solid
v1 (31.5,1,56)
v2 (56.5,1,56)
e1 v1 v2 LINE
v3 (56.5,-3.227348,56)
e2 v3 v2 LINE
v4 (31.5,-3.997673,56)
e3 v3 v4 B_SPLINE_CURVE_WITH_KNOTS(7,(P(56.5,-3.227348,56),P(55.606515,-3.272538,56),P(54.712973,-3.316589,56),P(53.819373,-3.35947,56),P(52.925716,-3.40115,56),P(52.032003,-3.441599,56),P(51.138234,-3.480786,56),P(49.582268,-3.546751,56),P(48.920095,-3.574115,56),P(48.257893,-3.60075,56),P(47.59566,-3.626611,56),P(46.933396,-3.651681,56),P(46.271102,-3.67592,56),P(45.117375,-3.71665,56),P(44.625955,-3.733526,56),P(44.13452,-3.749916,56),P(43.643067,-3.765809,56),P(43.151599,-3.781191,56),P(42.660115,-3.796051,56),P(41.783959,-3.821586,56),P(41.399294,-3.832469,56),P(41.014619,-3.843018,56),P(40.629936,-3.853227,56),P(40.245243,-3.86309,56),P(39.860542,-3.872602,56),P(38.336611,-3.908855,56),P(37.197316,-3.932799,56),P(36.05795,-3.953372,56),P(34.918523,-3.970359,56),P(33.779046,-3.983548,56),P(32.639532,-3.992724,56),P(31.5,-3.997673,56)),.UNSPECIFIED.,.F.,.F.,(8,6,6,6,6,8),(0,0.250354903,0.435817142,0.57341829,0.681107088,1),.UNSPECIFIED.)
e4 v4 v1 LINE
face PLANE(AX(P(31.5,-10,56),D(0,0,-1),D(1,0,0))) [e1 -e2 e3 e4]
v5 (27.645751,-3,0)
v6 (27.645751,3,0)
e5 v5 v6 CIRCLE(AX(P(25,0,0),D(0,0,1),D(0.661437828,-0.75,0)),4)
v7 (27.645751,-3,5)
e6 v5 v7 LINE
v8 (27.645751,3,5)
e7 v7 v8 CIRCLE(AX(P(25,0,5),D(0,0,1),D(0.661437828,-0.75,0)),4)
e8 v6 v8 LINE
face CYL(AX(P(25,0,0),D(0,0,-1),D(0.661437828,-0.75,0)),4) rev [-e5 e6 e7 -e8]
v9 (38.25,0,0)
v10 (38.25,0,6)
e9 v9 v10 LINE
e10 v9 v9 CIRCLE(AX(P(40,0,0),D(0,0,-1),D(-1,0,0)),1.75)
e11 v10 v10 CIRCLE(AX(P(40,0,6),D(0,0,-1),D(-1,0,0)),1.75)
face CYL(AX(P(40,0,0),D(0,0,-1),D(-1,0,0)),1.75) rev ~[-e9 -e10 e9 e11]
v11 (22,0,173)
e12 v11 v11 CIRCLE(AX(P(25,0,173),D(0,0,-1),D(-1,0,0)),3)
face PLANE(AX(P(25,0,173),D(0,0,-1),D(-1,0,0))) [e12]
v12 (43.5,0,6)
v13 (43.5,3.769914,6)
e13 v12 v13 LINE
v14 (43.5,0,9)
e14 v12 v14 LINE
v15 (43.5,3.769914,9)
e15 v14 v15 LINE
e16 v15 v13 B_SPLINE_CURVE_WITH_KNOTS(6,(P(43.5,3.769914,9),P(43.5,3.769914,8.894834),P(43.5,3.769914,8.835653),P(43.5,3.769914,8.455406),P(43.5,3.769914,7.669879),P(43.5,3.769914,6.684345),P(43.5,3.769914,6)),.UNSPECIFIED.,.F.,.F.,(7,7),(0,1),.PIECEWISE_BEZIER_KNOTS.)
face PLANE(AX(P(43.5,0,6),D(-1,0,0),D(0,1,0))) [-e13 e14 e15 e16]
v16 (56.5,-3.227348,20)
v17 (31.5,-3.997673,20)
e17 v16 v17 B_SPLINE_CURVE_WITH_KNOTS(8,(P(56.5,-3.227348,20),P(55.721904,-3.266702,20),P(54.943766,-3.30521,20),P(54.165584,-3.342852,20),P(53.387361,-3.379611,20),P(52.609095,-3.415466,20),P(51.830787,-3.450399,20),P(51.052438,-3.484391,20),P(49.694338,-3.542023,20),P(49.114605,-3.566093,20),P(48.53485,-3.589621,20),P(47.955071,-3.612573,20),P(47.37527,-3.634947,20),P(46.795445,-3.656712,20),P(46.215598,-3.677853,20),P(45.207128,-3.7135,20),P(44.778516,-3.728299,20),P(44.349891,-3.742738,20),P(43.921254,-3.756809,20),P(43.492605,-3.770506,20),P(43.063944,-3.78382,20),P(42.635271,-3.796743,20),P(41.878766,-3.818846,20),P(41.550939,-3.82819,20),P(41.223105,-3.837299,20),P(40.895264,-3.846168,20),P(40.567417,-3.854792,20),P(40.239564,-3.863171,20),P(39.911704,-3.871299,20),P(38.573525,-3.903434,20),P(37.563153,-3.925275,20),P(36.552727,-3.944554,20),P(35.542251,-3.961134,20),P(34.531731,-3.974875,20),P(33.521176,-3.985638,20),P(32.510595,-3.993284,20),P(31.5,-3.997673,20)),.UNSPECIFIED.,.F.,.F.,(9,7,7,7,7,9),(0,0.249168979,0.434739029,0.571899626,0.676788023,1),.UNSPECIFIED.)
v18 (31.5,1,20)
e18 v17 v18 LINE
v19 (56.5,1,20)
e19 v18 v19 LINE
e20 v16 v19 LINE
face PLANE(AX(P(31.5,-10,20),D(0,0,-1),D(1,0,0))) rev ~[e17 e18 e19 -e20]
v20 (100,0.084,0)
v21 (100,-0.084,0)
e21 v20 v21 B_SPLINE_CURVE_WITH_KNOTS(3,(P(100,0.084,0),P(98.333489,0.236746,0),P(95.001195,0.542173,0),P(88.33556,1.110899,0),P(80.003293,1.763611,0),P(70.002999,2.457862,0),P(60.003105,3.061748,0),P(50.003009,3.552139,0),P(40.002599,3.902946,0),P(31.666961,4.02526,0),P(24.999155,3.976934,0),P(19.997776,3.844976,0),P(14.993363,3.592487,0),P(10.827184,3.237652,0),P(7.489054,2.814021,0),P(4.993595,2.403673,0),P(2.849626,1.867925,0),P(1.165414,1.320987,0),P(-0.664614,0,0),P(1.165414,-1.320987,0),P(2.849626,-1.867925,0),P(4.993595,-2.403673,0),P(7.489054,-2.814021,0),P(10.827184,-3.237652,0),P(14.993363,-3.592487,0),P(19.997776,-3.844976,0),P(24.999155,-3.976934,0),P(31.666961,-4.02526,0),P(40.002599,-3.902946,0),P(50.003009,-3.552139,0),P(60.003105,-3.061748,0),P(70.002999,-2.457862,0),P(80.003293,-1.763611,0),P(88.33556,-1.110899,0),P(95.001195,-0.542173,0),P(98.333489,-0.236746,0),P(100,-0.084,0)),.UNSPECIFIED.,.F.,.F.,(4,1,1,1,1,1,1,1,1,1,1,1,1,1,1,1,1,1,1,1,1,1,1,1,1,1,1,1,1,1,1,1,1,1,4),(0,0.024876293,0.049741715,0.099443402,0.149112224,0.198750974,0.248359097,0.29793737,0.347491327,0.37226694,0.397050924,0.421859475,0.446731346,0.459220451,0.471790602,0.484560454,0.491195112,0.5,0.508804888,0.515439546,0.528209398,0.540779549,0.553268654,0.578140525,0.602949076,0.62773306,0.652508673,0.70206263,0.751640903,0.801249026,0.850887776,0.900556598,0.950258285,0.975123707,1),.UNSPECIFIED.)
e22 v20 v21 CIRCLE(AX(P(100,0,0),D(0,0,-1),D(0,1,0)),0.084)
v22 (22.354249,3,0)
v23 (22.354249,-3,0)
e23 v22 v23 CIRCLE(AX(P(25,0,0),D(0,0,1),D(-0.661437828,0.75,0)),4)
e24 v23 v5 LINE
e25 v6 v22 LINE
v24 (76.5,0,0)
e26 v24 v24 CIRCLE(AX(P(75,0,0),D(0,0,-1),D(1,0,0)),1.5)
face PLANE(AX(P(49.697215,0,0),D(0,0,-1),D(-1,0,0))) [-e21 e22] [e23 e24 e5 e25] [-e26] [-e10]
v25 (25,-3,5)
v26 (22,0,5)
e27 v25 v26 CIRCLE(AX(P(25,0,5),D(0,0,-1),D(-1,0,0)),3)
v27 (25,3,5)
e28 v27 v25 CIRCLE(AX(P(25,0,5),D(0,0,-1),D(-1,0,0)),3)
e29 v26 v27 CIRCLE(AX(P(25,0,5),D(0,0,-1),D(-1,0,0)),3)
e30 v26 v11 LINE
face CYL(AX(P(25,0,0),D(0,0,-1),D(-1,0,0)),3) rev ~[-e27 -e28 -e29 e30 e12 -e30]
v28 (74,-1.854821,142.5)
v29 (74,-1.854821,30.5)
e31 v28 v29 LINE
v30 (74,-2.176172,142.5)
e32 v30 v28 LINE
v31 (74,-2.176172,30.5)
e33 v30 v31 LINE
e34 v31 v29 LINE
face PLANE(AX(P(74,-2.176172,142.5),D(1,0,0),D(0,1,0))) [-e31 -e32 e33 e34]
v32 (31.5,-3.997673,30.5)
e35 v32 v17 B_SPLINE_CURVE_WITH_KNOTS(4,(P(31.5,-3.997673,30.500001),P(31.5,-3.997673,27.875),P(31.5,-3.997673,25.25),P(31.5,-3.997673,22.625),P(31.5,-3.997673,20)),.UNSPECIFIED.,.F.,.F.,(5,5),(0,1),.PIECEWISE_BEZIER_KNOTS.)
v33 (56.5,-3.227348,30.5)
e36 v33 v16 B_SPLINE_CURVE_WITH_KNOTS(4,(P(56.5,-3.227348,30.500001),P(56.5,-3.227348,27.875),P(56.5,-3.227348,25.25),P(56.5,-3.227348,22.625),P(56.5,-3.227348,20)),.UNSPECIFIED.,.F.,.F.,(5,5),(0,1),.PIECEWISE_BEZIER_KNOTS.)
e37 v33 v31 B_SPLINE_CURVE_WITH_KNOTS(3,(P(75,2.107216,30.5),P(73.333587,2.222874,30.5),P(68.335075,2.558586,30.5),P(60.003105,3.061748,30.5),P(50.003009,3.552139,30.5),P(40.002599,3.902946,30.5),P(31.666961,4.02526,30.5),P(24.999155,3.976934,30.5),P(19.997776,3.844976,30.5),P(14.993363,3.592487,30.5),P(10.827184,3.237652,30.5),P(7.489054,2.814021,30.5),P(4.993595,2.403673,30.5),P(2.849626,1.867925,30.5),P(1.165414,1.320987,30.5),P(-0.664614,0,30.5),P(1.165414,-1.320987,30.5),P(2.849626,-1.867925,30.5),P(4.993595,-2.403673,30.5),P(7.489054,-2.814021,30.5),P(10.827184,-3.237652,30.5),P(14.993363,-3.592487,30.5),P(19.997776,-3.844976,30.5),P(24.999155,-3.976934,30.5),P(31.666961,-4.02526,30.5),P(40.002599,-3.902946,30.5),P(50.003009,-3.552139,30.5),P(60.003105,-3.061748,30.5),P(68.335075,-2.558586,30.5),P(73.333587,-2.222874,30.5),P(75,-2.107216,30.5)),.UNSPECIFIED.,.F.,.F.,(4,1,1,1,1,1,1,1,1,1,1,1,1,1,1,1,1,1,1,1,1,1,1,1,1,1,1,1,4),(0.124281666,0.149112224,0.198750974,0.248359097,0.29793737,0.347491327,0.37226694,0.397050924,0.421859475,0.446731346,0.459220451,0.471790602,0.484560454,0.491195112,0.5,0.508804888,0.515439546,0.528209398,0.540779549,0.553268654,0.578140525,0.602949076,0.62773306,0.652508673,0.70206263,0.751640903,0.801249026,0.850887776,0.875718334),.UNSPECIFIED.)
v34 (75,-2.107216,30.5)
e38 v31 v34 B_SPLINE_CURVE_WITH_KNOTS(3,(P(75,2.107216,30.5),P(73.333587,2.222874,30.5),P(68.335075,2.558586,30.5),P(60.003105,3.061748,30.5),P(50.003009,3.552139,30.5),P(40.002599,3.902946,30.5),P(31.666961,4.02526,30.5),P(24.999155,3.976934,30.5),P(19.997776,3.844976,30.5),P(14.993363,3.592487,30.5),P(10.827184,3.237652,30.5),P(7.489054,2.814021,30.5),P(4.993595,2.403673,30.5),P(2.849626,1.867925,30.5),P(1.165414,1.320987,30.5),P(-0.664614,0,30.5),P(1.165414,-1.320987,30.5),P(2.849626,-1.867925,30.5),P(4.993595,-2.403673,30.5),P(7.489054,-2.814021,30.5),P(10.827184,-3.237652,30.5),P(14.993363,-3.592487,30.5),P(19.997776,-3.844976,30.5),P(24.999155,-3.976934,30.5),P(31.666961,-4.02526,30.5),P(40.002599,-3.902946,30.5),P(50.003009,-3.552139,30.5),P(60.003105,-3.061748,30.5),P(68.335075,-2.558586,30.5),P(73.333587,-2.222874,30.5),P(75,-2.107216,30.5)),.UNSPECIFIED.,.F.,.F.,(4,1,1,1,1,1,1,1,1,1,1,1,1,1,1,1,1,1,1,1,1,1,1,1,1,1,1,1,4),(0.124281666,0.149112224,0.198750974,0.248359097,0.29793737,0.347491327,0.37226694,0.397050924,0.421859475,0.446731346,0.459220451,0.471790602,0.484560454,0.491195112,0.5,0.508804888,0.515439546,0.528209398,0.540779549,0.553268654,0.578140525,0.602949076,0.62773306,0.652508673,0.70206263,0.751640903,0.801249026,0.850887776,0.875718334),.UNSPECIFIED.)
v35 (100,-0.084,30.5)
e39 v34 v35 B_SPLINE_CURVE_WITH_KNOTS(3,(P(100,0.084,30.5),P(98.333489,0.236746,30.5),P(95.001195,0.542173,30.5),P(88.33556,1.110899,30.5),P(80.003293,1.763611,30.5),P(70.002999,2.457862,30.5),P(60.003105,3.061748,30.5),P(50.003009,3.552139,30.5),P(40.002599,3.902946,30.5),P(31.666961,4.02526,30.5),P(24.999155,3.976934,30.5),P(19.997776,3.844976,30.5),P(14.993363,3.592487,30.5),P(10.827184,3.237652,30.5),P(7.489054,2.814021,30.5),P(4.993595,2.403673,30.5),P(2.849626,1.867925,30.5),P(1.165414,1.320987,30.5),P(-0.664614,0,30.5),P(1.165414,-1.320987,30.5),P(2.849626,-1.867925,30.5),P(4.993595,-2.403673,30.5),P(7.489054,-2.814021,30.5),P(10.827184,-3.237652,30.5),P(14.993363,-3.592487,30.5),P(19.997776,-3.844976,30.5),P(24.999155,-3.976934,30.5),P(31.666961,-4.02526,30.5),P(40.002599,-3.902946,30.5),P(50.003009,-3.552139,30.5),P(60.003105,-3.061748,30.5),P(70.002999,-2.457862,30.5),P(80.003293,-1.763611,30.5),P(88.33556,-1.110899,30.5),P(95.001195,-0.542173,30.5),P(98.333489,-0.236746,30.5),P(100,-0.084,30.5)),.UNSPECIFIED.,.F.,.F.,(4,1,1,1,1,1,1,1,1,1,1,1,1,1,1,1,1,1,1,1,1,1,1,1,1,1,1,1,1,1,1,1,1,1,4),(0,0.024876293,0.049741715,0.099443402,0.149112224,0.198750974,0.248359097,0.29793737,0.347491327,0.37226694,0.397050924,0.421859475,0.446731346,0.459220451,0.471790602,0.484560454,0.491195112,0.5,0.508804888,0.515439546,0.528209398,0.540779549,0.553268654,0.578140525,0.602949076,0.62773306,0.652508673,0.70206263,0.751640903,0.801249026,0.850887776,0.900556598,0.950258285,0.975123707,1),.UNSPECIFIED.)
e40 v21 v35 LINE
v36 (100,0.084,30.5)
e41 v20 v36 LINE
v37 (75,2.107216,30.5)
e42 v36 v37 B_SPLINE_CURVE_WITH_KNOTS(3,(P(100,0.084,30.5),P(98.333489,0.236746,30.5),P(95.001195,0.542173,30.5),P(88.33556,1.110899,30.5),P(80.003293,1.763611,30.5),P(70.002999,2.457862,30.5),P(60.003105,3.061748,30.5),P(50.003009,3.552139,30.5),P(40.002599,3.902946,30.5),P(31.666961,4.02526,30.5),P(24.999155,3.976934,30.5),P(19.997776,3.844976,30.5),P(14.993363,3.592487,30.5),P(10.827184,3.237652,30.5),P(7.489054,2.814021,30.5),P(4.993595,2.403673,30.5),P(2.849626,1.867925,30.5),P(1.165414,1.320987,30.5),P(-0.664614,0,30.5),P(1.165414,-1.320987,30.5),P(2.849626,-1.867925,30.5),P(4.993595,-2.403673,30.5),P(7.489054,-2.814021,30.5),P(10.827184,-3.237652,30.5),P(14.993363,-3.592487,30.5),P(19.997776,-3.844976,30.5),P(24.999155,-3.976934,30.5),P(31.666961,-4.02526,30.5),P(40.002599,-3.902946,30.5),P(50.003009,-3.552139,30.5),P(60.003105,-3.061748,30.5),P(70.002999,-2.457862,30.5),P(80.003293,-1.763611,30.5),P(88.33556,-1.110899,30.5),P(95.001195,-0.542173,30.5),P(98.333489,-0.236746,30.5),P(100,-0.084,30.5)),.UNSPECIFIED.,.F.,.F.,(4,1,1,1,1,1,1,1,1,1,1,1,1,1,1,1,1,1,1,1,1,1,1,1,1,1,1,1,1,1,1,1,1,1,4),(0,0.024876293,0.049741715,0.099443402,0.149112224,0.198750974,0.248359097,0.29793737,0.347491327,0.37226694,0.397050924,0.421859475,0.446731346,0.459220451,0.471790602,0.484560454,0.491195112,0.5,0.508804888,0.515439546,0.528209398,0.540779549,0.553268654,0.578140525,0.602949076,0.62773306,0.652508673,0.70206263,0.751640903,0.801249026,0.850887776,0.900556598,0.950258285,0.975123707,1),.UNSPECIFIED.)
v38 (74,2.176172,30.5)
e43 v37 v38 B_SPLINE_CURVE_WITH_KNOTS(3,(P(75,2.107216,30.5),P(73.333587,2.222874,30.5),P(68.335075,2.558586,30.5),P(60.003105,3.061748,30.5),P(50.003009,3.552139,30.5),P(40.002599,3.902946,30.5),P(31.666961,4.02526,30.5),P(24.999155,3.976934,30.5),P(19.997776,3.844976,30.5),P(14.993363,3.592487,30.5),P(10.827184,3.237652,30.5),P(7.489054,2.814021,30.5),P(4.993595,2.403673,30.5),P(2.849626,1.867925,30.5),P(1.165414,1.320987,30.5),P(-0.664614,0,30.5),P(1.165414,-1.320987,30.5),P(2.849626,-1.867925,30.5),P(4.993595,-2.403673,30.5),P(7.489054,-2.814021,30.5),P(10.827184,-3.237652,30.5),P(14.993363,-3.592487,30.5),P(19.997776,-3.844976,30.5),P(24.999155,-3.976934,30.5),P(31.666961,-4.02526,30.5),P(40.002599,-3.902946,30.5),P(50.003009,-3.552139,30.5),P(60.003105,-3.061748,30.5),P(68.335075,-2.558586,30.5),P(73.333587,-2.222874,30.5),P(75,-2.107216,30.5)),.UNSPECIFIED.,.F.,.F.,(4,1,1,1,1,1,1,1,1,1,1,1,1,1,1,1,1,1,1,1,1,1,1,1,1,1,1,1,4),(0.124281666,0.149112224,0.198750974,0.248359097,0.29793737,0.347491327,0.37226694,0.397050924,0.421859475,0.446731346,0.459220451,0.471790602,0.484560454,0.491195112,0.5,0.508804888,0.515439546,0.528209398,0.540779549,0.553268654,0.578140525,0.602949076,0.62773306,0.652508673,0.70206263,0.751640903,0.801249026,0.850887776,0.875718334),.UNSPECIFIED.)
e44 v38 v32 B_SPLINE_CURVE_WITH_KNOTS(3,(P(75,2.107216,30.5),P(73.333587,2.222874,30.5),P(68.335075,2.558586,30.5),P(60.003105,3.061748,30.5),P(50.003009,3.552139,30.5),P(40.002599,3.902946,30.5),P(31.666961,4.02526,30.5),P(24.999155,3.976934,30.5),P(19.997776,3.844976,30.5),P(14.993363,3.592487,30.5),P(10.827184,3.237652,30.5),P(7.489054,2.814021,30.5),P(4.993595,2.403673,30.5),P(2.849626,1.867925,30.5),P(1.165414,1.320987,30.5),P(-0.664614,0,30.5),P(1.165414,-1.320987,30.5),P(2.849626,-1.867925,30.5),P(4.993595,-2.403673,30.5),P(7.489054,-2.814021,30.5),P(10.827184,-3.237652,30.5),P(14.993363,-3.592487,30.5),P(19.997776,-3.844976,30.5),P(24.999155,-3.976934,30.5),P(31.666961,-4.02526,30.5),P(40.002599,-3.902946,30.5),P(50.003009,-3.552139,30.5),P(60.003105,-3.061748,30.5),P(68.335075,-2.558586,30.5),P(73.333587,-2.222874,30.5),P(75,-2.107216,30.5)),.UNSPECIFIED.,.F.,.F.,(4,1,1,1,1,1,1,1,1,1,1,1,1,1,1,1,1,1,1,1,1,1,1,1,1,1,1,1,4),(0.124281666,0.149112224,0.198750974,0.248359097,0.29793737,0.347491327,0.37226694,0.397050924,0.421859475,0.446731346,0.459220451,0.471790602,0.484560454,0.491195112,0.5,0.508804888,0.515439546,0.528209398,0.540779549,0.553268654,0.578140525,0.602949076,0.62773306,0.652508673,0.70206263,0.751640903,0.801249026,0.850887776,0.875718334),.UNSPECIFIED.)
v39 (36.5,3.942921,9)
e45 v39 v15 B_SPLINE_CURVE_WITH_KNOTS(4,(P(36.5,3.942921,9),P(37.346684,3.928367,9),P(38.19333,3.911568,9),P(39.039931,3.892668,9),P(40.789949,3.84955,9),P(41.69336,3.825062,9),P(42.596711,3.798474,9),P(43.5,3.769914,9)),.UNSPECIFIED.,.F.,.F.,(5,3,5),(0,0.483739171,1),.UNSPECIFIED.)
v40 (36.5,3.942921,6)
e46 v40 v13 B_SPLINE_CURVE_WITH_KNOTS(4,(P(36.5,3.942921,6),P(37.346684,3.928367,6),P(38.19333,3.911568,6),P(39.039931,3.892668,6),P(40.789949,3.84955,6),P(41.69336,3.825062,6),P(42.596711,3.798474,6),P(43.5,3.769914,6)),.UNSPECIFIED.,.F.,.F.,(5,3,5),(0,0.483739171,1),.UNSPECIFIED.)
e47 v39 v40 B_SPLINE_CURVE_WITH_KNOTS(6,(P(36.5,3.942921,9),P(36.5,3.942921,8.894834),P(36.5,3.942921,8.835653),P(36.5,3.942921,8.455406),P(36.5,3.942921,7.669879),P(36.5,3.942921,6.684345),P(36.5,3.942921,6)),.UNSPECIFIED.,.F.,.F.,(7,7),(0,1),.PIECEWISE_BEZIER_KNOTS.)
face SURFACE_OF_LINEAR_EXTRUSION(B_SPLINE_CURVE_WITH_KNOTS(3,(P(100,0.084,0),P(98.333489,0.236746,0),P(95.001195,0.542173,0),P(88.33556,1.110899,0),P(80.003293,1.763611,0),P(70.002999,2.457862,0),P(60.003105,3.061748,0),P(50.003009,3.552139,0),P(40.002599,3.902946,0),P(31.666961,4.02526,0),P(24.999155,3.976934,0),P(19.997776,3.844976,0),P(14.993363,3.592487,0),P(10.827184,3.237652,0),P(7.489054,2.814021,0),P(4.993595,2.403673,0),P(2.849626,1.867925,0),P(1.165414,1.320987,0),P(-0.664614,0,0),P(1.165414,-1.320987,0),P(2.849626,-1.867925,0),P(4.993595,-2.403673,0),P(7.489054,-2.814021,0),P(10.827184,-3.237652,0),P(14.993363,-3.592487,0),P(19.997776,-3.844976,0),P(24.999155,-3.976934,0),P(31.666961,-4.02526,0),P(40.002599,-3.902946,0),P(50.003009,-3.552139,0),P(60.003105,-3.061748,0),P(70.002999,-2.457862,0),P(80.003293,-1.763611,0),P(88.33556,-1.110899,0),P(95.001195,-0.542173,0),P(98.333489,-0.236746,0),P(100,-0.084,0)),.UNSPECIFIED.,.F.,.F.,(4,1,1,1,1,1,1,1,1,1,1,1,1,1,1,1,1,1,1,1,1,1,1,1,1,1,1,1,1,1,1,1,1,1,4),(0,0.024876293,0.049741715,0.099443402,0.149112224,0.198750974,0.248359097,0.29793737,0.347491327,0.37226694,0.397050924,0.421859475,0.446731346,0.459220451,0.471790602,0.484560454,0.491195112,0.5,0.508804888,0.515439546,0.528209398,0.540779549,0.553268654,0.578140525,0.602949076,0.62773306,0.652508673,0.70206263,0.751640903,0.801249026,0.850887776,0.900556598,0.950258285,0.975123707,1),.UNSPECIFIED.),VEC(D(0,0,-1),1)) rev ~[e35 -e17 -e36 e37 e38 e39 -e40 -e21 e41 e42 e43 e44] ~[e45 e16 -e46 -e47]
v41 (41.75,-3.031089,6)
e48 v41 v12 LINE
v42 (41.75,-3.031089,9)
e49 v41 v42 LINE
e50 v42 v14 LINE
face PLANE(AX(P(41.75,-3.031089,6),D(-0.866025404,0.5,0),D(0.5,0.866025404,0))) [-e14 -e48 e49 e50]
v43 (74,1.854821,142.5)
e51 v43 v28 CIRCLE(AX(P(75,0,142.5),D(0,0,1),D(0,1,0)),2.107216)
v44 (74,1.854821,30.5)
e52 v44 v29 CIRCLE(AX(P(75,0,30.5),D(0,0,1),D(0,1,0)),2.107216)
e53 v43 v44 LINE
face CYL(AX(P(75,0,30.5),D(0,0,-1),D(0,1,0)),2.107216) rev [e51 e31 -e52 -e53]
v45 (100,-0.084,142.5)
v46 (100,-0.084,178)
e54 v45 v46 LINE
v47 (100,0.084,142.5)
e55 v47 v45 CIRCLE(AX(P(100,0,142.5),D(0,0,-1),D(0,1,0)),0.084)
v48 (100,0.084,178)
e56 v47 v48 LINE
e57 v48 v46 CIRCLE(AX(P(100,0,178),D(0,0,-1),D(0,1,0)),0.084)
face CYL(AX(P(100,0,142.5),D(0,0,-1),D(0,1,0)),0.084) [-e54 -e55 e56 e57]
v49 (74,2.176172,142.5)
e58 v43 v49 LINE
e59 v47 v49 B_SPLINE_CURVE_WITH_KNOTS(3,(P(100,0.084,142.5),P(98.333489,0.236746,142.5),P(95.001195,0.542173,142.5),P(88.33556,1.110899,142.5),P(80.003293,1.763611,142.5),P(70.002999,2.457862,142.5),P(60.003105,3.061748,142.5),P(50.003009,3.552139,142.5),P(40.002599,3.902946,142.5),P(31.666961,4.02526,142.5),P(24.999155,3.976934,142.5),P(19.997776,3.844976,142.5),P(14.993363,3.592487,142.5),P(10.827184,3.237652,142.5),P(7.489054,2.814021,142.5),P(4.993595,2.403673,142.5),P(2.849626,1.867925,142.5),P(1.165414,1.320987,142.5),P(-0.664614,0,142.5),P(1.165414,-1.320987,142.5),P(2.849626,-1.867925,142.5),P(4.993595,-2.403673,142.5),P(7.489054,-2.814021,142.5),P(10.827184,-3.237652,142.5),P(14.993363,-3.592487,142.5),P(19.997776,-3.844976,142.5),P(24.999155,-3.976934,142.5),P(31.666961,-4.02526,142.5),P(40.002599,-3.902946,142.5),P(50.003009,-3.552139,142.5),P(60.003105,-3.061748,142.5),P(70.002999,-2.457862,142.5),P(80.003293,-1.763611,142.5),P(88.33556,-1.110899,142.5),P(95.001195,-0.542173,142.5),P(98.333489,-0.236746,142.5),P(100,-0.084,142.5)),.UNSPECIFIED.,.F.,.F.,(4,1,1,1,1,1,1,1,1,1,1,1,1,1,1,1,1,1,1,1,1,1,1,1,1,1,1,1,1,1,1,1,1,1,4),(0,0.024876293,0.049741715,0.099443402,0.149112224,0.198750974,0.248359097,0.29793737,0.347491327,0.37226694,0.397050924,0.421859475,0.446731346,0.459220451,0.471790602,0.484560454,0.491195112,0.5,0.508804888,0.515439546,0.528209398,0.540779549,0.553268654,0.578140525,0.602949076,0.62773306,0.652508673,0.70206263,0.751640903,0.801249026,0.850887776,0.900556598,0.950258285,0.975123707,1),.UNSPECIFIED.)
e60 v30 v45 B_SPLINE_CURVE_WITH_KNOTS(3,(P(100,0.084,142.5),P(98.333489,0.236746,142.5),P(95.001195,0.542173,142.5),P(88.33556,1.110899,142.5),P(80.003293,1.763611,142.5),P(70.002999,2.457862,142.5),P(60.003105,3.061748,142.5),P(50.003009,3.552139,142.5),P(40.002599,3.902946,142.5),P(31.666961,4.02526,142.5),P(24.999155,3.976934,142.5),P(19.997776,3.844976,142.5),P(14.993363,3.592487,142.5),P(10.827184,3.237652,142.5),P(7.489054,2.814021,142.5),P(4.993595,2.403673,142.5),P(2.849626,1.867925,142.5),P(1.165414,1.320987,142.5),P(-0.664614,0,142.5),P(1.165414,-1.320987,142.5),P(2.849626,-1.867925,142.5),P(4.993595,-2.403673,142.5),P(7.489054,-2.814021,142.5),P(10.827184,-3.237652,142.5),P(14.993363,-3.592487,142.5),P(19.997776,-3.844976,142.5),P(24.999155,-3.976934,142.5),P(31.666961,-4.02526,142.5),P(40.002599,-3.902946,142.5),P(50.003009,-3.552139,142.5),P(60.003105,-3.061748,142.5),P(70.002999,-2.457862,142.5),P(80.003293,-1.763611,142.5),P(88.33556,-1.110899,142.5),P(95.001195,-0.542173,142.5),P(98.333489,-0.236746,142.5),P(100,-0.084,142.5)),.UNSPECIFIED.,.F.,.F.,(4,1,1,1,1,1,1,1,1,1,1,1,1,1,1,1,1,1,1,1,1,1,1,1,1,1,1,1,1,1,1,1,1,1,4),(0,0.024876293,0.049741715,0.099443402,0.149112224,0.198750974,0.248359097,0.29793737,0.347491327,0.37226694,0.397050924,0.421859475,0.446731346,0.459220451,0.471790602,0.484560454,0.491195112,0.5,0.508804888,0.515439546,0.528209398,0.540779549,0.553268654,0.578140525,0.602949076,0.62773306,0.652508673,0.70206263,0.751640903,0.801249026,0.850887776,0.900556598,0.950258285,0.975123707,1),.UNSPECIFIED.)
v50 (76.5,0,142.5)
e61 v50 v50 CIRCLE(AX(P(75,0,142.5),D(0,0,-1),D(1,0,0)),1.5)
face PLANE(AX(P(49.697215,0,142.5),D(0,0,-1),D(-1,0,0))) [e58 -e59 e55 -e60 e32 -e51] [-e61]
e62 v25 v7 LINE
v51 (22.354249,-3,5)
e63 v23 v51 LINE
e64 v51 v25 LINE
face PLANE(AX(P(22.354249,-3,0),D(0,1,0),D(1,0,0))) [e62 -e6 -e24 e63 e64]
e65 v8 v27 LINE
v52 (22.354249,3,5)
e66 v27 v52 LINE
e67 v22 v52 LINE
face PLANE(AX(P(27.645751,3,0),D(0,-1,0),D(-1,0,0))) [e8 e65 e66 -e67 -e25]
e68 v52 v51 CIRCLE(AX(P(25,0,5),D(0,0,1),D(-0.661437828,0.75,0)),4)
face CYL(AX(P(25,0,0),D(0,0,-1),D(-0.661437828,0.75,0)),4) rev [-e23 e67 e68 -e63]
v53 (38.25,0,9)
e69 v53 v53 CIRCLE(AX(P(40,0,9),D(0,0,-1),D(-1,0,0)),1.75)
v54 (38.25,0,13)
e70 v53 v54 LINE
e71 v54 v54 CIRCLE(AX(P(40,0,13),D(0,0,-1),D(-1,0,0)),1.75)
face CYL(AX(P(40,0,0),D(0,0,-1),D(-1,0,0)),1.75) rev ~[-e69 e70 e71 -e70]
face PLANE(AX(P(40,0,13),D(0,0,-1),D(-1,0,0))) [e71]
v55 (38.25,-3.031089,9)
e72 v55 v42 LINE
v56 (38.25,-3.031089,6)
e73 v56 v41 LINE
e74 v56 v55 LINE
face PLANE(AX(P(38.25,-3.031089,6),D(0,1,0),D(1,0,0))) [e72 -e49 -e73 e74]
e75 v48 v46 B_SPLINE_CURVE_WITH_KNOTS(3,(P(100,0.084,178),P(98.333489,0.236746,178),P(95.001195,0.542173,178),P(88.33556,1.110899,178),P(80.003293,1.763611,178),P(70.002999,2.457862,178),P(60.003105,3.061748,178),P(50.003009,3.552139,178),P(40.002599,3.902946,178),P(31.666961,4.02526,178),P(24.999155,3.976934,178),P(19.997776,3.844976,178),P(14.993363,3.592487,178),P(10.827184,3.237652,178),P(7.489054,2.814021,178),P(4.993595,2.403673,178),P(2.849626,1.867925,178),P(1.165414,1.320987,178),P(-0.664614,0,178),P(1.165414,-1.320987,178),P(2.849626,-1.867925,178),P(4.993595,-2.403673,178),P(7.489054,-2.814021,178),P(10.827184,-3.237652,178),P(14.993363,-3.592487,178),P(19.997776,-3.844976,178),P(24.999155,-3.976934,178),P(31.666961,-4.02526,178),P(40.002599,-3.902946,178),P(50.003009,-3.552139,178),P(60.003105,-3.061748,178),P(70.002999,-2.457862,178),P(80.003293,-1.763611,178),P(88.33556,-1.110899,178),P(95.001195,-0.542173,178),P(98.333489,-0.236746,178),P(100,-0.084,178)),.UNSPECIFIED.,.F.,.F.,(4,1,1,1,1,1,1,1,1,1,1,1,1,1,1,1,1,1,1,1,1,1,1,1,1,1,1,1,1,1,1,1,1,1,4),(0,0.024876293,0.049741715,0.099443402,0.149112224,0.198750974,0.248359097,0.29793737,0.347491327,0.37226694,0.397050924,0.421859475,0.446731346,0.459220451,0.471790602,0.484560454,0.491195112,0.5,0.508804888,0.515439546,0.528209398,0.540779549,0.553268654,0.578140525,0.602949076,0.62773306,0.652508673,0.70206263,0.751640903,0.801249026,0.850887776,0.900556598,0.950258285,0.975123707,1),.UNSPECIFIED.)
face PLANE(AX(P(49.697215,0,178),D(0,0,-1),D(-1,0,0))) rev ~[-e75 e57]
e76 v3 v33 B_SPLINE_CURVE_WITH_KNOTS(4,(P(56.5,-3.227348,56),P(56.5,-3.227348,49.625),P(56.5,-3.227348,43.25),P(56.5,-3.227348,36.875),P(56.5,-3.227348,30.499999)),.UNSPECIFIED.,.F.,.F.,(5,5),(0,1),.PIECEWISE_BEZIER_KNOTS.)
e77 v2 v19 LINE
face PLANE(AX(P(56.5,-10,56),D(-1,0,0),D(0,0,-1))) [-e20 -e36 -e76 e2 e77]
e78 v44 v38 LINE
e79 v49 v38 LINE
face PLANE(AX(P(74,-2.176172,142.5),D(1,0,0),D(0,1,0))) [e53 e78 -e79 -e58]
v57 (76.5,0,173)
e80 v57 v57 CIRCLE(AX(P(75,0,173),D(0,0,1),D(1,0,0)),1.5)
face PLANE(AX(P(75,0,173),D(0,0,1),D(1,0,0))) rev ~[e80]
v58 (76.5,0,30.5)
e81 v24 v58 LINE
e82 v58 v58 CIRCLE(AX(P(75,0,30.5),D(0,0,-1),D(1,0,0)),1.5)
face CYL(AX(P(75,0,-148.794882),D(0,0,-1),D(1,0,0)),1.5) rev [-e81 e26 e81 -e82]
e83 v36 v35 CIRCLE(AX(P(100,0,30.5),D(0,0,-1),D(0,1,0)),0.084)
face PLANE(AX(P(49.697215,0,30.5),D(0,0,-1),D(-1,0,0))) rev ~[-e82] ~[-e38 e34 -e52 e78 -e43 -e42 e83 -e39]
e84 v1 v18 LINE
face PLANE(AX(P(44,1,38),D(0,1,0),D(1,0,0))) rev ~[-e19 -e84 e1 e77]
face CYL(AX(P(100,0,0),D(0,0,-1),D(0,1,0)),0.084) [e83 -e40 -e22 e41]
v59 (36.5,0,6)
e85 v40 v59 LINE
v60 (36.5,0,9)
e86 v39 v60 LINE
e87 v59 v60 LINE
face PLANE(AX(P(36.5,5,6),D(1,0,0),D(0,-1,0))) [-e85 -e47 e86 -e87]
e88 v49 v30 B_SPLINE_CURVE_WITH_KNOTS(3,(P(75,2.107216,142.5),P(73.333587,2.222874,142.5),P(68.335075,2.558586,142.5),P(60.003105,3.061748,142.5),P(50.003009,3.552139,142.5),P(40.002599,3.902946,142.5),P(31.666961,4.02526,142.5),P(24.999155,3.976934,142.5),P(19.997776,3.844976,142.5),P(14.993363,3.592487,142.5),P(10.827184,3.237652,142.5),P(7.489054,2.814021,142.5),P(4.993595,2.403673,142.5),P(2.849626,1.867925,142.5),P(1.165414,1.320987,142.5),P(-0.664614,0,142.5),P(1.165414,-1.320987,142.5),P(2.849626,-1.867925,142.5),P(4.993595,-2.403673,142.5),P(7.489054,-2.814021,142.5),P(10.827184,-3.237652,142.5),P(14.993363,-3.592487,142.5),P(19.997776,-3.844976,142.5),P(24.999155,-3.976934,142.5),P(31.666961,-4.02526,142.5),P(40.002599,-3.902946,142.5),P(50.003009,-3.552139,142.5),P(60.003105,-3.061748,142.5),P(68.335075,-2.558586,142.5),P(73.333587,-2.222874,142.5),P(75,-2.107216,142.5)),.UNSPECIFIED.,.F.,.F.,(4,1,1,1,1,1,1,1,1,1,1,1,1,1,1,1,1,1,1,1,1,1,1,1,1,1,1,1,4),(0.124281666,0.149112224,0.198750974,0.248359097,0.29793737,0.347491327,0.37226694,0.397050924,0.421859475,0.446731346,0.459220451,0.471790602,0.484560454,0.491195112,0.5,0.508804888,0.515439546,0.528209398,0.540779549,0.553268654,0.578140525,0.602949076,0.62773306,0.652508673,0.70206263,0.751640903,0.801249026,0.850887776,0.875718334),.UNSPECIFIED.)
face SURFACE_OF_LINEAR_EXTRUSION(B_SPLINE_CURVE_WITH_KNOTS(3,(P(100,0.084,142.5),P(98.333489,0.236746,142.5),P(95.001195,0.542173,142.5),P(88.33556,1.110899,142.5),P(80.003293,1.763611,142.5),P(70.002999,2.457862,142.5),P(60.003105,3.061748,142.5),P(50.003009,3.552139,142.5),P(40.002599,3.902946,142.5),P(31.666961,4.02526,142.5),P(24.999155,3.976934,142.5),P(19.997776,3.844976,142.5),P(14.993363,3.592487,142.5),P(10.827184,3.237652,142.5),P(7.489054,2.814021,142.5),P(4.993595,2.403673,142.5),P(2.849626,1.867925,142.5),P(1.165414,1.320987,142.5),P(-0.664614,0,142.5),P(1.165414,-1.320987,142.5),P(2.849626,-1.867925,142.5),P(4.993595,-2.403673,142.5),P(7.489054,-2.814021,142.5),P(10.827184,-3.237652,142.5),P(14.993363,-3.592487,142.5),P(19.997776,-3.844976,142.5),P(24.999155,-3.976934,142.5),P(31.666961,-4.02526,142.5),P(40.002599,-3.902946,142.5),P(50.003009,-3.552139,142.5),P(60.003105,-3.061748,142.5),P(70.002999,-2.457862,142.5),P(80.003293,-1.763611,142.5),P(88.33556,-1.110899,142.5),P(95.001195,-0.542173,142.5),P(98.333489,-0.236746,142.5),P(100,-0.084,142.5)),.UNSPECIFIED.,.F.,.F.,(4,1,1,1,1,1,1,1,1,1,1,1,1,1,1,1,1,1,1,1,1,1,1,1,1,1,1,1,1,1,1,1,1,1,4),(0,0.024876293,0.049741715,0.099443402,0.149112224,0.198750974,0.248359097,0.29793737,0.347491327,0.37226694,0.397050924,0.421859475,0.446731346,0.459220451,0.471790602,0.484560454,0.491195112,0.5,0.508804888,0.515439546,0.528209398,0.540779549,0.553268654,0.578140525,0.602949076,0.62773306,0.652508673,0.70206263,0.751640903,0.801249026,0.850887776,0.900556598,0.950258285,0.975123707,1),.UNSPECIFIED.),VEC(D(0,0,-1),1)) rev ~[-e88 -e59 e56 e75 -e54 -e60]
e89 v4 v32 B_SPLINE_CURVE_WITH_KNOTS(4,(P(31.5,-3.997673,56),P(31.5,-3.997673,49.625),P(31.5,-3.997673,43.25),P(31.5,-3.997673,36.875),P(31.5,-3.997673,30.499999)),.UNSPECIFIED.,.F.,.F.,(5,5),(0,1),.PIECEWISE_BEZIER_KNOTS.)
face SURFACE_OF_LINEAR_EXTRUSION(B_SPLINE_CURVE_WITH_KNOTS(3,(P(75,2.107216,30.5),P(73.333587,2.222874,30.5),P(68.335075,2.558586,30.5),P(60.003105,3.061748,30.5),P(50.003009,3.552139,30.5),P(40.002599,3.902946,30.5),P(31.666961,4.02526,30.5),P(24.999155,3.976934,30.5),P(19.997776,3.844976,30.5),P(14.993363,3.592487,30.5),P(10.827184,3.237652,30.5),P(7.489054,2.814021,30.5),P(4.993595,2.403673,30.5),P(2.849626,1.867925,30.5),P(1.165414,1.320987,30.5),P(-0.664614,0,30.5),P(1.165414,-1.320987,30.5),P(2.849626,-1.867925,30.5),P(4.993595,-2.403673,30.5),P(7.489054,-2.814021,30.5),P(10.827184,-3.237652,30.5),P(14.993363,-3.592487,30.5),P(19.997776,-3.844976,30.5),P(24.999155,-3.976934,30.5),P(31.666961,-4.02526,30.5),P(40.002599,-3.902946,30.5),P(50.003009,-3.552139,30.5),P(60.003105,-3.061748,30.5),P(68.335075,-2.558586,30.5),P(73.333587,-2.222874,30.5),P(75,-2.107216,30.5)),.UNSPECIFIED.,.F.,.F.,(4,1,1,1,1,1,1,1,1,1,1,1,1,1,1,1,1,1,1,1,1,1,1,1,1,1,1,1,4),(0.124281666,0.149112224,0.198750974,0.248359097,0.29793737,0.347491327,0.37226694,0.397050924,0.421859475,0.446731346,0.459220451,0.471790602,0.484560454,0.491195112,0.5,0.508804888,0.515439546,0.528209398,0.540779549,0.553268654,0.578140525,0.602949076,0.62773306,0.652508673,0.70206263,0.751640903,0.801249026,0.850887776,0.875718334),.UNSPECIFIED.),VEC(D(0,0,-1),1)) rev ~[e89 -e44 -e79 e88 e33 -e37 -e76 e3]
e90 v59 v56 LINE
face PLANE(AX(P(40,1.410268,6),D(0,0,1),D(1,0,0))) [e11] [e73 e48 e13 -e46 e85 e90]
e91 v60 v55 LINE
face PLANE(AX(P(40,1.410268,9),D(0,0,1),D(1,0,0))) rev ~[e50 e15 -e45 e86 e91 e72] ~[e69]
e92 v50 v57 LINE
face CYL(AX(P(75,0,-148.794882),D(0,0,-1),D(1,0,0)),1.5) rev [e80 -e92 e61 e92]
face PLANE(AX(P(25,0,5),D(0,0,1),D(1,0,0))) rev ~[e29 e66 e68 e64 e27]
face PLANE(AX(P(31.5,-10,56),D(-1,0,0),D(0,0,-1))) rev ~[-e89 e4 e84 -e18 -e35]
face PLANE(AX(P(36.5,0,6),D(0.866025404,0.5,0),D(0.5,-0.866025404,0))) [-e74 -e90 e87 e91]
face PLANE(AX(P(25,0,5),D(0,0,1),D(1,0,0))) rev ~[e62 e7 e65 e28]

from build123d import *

# Parameters (mm, degrees)
FOAMBASSA_DEPTH                = 30.5
FOAMMEDIA_DEPTH                = 112
SCHIZZO4_W                     = 1
SCHIZZO4_H                     = 4.352344546
SMUSSOPARTEMOBILE_DEPTH        = 112
FOAMALTA_DEPTH                 = 35.5
FOROPERNORUDDEVATOR_DEPTH      = 142.5
FOROPERNORUDDEVATOR_DEPTH_BACK = 179.294882462
SCHIZZO5_R                     = 1.5
SCHIZZO8_R                     = 3
FOROLONGHERONE_DEPTH           = 173
AGGANCIOLONGHERONE_DEPTH       = 5
SCHIZZO10_R                    = 1.75
FOROVITEBASE_DEPTH             = 13
INTAGLIODADO_DEPTH             = 3
INTAGLIOSERVOMOTORE_DEPTH      = 1
INTAGLIOSERVOMOTORE_DEPTH_BACK = 10
SCHIZZO12_W                    = 25
SCHIZZO12_H                    = 36


with BuildPart() as part:
    # Schizzo1 → FoamBassa (new body)
    with BuildSketch(Plane.XY):
        with BuildLine():
            ThreePointArc((100, 0.084), (100.084, 0), (100, -0.084))
            add(Edge.make_bspline(
                [(100, 0.084), (98.333488815, 0.23674648), (95.001194725, 0.542172689), (88.335559621, 1.11089898), (80.003293356, 1.763610995), (70.002998933, 2.457861693), (60.003104625, 3.061747723), (50.003008601, 3.552139212), (40.002598558, 3.902946494), (31.666961486, 4.025260151), (24.9991546, 3.976933791), (19.997775587, 3.844976398), (14.993363131, 3.592486959), (10.827184065, 3.237651579), (7.489054388, 2.814021367), (4.99359465, 2.403673059), (2.84962634, 1.867925494), (1.165413503, 1.320987252), (-0.664613784, 0), (1.165413503, -1.320987252), (2.84962634, -1.867925494), (4.99359465, -2.403673059), (7.489054388, -2.814021367), (10.827184065, -3.237651579), (14.993363131, -3.592486959), (19.997775587, -3.844976398), (24.9991546, -3.976933791), (31.666961486, -4.025260151), (40.002598558, -3.902946494), (50.003008601, -3.552139212), (60.003104625, -3.061747723), (70.002998933, -2.457861693), (80.003293356, -1.763610995), (88.335559621, -1.11089898), (95.001194725, -0.542172689), (98.333488815, -0.23674648), (100, -0.084)],
                knots=[0, 0, 0, 0, 0.024876293, 0.049741715, 0.099443402, 0.149112224, 0.198750974, 0.248359097, 0.29793737, 0.347491327, 0.37226694, 0.397050924, 0.421859475, 0.446731346, 0.459220451, 0.471790602, 0.484560454, 0.491195112, 0.5, 0.508804888, 0.515439546, 0.528209398, 0.540779549, 0.553268654, 0.578140525, 0.602949076, 0.62773306, 0.652508673, 0.70206263, 0.751640903, 0.801249026, 0.850887776, 0.900556598, 0.950258285, 0.975123707, 1, 1, 1, 1], degree=3))
        make_face()
    extrude(amount=FOAMBASSA_DEPTH)

    # Schizzo2 → FoamMedia (add)
    with BuildSketch(Plane.XY.offset(30.5)):
        with BuildLine():
            ThreePointArc((75, 2.107216055), (72.892783944, 0), (75, -2.107216055))
            add(Edge.make_bspline(
                [(75, 2.107216055), (73.333587352, 2.222873526), (68.33507528, 2.558586337), (60.003104625, 3.061747723), (50.003008601, 3.552139212), (40.002598558, 3.902946494), (31.666961486, 4.025260151), (24.9991546, 3.976933791), (19.997775587, 3.844976398), (14.993363131, 3.592486959), (10.827184065, 3.237651579), (7.489054388, 2.814021367), (4.99359465, 2.403673059), (2.84962634, 1.867925494), (1.165413503, 1.320987252), (-0.664613784, 0), (1.165413503, -1.320987252), (2.84962634, -1.867925494), (4.99359465, -2.403673059), (7.489054388, -2.814021367), (10.827184065, -3.237651579), (14.993363131, -3.592486959), (19.997775587, -3.844976398), (24.9991546, -3.976933791), (31.666961486, -4.025260151), (40.002598558, -3.902946494), (50.003008601, -3.552139212), (60.003104625, -3.061747723), (68.33507528, -2.558586337), (73.333587352, -2.222873526), (75, -2.107216055)],
                knots=[0.124281666, 0.124281666, 0.124281666, 0.124281666, 0.149112224, 0.198750974, 0.248359097, 0.29793737, 0.347491327, 0.37226694, 0.397050924, 0.421859475, 0.446731346, 0.459220451, 0.471790602, 0.484560454, 0.491195112, 0.5, 0.508804888, 0.515439546, 0.528209398, 0.540779549, 0.553268654, 0.578140525, 0.602949076, 0.62773306, 0.652508673, 0.70206263, 0.751640903, 0.801249026, 0.850887776, 0.875718334, 0.875718334, 0.875718334, 0.875718334], degree=3))
        make_face()
    extrude(amount=FOAMMEDIA_DEPTH)

    # Schizzo4 → SmussoParteMobile (cut)
    with BuildSketch(Plane.XY.offset(142.5)):
        with Locations((74.5, 0)):
            Rectangle(SCHIZZO4_W, SCHIZZO4_H)
    extrude(amount=-SMUSSOPARTEMOBILE_DEPTH, mode=Mode.SUBTRACT)

    # Schizzo6 → FoamAlta (add)
    with BuildSketch(Plane.XY.offset(142.5)):
        with BuildLine():
            ThreePointArc((100, 0.084), (100.084, 0), (100, -0.084))
            add(Edge.make_bspline(
                [(100, 0.084), (98.333488815, 0.23674648), (95.001194725, 0.542172689), (88.335559621, 1.11089898), (80.003293356, 1.763610995), (70.002998933, 2.457861693), (60.003104625, 3.061747723), (50.003008601, 3.552139212), (40.002598558, 3.902946494), (31.666961486, 4.025260151), (24.9991546, 3.976933791), (19.997775587, 3.844976398), (14.993363131, 3.592486959), (10.827184065, 3.237651579), (7.489054388, 2.814021367), (4.99359465, 2.403673059), (2.84962634, 1.867925494), (1.165413503, 1.320987252), (-0.664613784, 0), (1.165413503, -1.320987252), (2.84962634, -1.867925494), (4.99359465, -2.403673059), (7.489054388, -2.814021367), (10.827184065, -3.237651579), (14.993363131, -3.592486959), (19.997775587, -3.844976398), (24.9991546, -3.976933791), (31.666961486, -4.025260151), (40.002598558, -3.902946494), (50.003008601, -3.552139212), (60.003104625, -3.061747723), (70.002998933, -2.457861693), (80.003293356, -1.763610995), (88.335559621, -1.11089898), (95.001194725, -0.542172689), (98.333488815, -0.23674648), (100, -0.084)],
                knots=[0, 0, 0, 0, 0.024876293, 0.049741715, 0.099443402, 0.149112224, 0.198750974, 0.248359097, 0.29793737, 0.347491327, 0.37226694, 0.397050924, 0.421859475, 0.446731346, 0.459220451, 0.471790602, 0.484560454, 0.491195112, 0.5, 0.508804888, 0.515439546, 0.528209398, 0.540779549, 0.553268654, 0.578140525, 0.602949076, 0.62773306, 0.652508673, 0.70206263, 0.751640903, 0.801249026, 0.850887776, 0.900556598, 0.950258285, 0.975123707, 1, 1, 1, 1], degree=3))
        make_face()
    extrude(amount=FOAMALTA_DEPTH)

    # Schizzo5 → ForoPernoRuddevator (cut, two sides: drawn at the far end of the back side and taken through both)
    with BuildSketch(Plane.XY.offset(30.5).offset(-FOROPERNORUDDEVATOR_DEPTH_BACK)):
        with Locations((75, 0)):
            Circle(SCHIZZO5_R)
    extrude(amount=FOROPERNORUDDEVATOR_DEPTH + FOROPERNORUDDEVATOR_DEPTH_BACK, mode=Mode.SUBTRACT)

    # Schizzo8 → ForoLongherone (cut)
    with BuildSketch(Plane(origin=(0, 0, 0), x_dir=(-1, 0, 0), z_dir=(0, 0, -1))):
        with Locations((-25, 0)):
            Circle(SCHIZZO8_R)
    extrude(amount=-FOROLONGHERONE_DEPTH, mode=Mode.SUBTRACT)

    # Schizzo9 → AggancioLongherone (cut)
    with BuildSketch(Plane(origin=(0, 0, 0), x_dir=(-1, 0, 0), z_dir=(0, 0, -1))):
        with BuildLine():
            Line((-27.645751311, 3), (-22.354248689, 3))
            ThreePointArc((-22.354248689, 3), (-21, 0), (-22.354248689, -3))
            Line((-22.354248689, -3), (-27.645751311, -3))
            ThreePointArc((-27.645751311, -3), (-29, 0), (-27.645751311, 3))
        make_face()
    extrude(amount=-AGGANCIOLONGHERONE_DEPTH, mode=Mode.SUBTRACT)

    # Schizzo10 → ForoViteBase (cut)
    with BuildSketch(Plane(origin=(0, 0, 0), x_dir=(-1, 0, 0), z_dir=(0, 0, -1))):
        with Locations((-40, 0)):
            Circle(SCHIZZO10_R)
    extrude(amount=-FOROVITEBASE_DEPTH, mode=Mode.SUBTRACT)

    # Schizzo11 → IntaglioDado (cut)
    with BuildSketch(Plane(origin=(0, 0, 6), x_dir=(-1, 0, 0), z_dir=(0, 0, -1))):
        Polygon((-43.5, 0), (-43.5, 5), (-36.5, 5), (-36.5, 0), (-38.25, -3.031088913), (-41.75, -3.031088913), align=None)
    extrude(amount=-INTAGLIODADO_DEPTH, mode=Mode.SUBTRACT)

    # Schizzo12 → IntaglioServomotore (cut, two sides: drawn at the far end of the back side and taken through both)
    with BuildSketch(Plane(origin=(0, 0, 0), x_dir=(1, 0, 0), z_dir=(0, 1, 0)).offset(-INTAGLIOSERVOMOTORE_DEPTH_BACK)):
        with Locations((44, -38)):
            Rectangle(SCHIZZO12_W, SCHIZZO12_H)
    extrude(amount=INTAGLIOSERVOMOTORE_DEPTH + INTAGLIOSERVOMOTORE_DEPTH_BACK, mode=Mode.SUBTRACT)


solid = part.part
